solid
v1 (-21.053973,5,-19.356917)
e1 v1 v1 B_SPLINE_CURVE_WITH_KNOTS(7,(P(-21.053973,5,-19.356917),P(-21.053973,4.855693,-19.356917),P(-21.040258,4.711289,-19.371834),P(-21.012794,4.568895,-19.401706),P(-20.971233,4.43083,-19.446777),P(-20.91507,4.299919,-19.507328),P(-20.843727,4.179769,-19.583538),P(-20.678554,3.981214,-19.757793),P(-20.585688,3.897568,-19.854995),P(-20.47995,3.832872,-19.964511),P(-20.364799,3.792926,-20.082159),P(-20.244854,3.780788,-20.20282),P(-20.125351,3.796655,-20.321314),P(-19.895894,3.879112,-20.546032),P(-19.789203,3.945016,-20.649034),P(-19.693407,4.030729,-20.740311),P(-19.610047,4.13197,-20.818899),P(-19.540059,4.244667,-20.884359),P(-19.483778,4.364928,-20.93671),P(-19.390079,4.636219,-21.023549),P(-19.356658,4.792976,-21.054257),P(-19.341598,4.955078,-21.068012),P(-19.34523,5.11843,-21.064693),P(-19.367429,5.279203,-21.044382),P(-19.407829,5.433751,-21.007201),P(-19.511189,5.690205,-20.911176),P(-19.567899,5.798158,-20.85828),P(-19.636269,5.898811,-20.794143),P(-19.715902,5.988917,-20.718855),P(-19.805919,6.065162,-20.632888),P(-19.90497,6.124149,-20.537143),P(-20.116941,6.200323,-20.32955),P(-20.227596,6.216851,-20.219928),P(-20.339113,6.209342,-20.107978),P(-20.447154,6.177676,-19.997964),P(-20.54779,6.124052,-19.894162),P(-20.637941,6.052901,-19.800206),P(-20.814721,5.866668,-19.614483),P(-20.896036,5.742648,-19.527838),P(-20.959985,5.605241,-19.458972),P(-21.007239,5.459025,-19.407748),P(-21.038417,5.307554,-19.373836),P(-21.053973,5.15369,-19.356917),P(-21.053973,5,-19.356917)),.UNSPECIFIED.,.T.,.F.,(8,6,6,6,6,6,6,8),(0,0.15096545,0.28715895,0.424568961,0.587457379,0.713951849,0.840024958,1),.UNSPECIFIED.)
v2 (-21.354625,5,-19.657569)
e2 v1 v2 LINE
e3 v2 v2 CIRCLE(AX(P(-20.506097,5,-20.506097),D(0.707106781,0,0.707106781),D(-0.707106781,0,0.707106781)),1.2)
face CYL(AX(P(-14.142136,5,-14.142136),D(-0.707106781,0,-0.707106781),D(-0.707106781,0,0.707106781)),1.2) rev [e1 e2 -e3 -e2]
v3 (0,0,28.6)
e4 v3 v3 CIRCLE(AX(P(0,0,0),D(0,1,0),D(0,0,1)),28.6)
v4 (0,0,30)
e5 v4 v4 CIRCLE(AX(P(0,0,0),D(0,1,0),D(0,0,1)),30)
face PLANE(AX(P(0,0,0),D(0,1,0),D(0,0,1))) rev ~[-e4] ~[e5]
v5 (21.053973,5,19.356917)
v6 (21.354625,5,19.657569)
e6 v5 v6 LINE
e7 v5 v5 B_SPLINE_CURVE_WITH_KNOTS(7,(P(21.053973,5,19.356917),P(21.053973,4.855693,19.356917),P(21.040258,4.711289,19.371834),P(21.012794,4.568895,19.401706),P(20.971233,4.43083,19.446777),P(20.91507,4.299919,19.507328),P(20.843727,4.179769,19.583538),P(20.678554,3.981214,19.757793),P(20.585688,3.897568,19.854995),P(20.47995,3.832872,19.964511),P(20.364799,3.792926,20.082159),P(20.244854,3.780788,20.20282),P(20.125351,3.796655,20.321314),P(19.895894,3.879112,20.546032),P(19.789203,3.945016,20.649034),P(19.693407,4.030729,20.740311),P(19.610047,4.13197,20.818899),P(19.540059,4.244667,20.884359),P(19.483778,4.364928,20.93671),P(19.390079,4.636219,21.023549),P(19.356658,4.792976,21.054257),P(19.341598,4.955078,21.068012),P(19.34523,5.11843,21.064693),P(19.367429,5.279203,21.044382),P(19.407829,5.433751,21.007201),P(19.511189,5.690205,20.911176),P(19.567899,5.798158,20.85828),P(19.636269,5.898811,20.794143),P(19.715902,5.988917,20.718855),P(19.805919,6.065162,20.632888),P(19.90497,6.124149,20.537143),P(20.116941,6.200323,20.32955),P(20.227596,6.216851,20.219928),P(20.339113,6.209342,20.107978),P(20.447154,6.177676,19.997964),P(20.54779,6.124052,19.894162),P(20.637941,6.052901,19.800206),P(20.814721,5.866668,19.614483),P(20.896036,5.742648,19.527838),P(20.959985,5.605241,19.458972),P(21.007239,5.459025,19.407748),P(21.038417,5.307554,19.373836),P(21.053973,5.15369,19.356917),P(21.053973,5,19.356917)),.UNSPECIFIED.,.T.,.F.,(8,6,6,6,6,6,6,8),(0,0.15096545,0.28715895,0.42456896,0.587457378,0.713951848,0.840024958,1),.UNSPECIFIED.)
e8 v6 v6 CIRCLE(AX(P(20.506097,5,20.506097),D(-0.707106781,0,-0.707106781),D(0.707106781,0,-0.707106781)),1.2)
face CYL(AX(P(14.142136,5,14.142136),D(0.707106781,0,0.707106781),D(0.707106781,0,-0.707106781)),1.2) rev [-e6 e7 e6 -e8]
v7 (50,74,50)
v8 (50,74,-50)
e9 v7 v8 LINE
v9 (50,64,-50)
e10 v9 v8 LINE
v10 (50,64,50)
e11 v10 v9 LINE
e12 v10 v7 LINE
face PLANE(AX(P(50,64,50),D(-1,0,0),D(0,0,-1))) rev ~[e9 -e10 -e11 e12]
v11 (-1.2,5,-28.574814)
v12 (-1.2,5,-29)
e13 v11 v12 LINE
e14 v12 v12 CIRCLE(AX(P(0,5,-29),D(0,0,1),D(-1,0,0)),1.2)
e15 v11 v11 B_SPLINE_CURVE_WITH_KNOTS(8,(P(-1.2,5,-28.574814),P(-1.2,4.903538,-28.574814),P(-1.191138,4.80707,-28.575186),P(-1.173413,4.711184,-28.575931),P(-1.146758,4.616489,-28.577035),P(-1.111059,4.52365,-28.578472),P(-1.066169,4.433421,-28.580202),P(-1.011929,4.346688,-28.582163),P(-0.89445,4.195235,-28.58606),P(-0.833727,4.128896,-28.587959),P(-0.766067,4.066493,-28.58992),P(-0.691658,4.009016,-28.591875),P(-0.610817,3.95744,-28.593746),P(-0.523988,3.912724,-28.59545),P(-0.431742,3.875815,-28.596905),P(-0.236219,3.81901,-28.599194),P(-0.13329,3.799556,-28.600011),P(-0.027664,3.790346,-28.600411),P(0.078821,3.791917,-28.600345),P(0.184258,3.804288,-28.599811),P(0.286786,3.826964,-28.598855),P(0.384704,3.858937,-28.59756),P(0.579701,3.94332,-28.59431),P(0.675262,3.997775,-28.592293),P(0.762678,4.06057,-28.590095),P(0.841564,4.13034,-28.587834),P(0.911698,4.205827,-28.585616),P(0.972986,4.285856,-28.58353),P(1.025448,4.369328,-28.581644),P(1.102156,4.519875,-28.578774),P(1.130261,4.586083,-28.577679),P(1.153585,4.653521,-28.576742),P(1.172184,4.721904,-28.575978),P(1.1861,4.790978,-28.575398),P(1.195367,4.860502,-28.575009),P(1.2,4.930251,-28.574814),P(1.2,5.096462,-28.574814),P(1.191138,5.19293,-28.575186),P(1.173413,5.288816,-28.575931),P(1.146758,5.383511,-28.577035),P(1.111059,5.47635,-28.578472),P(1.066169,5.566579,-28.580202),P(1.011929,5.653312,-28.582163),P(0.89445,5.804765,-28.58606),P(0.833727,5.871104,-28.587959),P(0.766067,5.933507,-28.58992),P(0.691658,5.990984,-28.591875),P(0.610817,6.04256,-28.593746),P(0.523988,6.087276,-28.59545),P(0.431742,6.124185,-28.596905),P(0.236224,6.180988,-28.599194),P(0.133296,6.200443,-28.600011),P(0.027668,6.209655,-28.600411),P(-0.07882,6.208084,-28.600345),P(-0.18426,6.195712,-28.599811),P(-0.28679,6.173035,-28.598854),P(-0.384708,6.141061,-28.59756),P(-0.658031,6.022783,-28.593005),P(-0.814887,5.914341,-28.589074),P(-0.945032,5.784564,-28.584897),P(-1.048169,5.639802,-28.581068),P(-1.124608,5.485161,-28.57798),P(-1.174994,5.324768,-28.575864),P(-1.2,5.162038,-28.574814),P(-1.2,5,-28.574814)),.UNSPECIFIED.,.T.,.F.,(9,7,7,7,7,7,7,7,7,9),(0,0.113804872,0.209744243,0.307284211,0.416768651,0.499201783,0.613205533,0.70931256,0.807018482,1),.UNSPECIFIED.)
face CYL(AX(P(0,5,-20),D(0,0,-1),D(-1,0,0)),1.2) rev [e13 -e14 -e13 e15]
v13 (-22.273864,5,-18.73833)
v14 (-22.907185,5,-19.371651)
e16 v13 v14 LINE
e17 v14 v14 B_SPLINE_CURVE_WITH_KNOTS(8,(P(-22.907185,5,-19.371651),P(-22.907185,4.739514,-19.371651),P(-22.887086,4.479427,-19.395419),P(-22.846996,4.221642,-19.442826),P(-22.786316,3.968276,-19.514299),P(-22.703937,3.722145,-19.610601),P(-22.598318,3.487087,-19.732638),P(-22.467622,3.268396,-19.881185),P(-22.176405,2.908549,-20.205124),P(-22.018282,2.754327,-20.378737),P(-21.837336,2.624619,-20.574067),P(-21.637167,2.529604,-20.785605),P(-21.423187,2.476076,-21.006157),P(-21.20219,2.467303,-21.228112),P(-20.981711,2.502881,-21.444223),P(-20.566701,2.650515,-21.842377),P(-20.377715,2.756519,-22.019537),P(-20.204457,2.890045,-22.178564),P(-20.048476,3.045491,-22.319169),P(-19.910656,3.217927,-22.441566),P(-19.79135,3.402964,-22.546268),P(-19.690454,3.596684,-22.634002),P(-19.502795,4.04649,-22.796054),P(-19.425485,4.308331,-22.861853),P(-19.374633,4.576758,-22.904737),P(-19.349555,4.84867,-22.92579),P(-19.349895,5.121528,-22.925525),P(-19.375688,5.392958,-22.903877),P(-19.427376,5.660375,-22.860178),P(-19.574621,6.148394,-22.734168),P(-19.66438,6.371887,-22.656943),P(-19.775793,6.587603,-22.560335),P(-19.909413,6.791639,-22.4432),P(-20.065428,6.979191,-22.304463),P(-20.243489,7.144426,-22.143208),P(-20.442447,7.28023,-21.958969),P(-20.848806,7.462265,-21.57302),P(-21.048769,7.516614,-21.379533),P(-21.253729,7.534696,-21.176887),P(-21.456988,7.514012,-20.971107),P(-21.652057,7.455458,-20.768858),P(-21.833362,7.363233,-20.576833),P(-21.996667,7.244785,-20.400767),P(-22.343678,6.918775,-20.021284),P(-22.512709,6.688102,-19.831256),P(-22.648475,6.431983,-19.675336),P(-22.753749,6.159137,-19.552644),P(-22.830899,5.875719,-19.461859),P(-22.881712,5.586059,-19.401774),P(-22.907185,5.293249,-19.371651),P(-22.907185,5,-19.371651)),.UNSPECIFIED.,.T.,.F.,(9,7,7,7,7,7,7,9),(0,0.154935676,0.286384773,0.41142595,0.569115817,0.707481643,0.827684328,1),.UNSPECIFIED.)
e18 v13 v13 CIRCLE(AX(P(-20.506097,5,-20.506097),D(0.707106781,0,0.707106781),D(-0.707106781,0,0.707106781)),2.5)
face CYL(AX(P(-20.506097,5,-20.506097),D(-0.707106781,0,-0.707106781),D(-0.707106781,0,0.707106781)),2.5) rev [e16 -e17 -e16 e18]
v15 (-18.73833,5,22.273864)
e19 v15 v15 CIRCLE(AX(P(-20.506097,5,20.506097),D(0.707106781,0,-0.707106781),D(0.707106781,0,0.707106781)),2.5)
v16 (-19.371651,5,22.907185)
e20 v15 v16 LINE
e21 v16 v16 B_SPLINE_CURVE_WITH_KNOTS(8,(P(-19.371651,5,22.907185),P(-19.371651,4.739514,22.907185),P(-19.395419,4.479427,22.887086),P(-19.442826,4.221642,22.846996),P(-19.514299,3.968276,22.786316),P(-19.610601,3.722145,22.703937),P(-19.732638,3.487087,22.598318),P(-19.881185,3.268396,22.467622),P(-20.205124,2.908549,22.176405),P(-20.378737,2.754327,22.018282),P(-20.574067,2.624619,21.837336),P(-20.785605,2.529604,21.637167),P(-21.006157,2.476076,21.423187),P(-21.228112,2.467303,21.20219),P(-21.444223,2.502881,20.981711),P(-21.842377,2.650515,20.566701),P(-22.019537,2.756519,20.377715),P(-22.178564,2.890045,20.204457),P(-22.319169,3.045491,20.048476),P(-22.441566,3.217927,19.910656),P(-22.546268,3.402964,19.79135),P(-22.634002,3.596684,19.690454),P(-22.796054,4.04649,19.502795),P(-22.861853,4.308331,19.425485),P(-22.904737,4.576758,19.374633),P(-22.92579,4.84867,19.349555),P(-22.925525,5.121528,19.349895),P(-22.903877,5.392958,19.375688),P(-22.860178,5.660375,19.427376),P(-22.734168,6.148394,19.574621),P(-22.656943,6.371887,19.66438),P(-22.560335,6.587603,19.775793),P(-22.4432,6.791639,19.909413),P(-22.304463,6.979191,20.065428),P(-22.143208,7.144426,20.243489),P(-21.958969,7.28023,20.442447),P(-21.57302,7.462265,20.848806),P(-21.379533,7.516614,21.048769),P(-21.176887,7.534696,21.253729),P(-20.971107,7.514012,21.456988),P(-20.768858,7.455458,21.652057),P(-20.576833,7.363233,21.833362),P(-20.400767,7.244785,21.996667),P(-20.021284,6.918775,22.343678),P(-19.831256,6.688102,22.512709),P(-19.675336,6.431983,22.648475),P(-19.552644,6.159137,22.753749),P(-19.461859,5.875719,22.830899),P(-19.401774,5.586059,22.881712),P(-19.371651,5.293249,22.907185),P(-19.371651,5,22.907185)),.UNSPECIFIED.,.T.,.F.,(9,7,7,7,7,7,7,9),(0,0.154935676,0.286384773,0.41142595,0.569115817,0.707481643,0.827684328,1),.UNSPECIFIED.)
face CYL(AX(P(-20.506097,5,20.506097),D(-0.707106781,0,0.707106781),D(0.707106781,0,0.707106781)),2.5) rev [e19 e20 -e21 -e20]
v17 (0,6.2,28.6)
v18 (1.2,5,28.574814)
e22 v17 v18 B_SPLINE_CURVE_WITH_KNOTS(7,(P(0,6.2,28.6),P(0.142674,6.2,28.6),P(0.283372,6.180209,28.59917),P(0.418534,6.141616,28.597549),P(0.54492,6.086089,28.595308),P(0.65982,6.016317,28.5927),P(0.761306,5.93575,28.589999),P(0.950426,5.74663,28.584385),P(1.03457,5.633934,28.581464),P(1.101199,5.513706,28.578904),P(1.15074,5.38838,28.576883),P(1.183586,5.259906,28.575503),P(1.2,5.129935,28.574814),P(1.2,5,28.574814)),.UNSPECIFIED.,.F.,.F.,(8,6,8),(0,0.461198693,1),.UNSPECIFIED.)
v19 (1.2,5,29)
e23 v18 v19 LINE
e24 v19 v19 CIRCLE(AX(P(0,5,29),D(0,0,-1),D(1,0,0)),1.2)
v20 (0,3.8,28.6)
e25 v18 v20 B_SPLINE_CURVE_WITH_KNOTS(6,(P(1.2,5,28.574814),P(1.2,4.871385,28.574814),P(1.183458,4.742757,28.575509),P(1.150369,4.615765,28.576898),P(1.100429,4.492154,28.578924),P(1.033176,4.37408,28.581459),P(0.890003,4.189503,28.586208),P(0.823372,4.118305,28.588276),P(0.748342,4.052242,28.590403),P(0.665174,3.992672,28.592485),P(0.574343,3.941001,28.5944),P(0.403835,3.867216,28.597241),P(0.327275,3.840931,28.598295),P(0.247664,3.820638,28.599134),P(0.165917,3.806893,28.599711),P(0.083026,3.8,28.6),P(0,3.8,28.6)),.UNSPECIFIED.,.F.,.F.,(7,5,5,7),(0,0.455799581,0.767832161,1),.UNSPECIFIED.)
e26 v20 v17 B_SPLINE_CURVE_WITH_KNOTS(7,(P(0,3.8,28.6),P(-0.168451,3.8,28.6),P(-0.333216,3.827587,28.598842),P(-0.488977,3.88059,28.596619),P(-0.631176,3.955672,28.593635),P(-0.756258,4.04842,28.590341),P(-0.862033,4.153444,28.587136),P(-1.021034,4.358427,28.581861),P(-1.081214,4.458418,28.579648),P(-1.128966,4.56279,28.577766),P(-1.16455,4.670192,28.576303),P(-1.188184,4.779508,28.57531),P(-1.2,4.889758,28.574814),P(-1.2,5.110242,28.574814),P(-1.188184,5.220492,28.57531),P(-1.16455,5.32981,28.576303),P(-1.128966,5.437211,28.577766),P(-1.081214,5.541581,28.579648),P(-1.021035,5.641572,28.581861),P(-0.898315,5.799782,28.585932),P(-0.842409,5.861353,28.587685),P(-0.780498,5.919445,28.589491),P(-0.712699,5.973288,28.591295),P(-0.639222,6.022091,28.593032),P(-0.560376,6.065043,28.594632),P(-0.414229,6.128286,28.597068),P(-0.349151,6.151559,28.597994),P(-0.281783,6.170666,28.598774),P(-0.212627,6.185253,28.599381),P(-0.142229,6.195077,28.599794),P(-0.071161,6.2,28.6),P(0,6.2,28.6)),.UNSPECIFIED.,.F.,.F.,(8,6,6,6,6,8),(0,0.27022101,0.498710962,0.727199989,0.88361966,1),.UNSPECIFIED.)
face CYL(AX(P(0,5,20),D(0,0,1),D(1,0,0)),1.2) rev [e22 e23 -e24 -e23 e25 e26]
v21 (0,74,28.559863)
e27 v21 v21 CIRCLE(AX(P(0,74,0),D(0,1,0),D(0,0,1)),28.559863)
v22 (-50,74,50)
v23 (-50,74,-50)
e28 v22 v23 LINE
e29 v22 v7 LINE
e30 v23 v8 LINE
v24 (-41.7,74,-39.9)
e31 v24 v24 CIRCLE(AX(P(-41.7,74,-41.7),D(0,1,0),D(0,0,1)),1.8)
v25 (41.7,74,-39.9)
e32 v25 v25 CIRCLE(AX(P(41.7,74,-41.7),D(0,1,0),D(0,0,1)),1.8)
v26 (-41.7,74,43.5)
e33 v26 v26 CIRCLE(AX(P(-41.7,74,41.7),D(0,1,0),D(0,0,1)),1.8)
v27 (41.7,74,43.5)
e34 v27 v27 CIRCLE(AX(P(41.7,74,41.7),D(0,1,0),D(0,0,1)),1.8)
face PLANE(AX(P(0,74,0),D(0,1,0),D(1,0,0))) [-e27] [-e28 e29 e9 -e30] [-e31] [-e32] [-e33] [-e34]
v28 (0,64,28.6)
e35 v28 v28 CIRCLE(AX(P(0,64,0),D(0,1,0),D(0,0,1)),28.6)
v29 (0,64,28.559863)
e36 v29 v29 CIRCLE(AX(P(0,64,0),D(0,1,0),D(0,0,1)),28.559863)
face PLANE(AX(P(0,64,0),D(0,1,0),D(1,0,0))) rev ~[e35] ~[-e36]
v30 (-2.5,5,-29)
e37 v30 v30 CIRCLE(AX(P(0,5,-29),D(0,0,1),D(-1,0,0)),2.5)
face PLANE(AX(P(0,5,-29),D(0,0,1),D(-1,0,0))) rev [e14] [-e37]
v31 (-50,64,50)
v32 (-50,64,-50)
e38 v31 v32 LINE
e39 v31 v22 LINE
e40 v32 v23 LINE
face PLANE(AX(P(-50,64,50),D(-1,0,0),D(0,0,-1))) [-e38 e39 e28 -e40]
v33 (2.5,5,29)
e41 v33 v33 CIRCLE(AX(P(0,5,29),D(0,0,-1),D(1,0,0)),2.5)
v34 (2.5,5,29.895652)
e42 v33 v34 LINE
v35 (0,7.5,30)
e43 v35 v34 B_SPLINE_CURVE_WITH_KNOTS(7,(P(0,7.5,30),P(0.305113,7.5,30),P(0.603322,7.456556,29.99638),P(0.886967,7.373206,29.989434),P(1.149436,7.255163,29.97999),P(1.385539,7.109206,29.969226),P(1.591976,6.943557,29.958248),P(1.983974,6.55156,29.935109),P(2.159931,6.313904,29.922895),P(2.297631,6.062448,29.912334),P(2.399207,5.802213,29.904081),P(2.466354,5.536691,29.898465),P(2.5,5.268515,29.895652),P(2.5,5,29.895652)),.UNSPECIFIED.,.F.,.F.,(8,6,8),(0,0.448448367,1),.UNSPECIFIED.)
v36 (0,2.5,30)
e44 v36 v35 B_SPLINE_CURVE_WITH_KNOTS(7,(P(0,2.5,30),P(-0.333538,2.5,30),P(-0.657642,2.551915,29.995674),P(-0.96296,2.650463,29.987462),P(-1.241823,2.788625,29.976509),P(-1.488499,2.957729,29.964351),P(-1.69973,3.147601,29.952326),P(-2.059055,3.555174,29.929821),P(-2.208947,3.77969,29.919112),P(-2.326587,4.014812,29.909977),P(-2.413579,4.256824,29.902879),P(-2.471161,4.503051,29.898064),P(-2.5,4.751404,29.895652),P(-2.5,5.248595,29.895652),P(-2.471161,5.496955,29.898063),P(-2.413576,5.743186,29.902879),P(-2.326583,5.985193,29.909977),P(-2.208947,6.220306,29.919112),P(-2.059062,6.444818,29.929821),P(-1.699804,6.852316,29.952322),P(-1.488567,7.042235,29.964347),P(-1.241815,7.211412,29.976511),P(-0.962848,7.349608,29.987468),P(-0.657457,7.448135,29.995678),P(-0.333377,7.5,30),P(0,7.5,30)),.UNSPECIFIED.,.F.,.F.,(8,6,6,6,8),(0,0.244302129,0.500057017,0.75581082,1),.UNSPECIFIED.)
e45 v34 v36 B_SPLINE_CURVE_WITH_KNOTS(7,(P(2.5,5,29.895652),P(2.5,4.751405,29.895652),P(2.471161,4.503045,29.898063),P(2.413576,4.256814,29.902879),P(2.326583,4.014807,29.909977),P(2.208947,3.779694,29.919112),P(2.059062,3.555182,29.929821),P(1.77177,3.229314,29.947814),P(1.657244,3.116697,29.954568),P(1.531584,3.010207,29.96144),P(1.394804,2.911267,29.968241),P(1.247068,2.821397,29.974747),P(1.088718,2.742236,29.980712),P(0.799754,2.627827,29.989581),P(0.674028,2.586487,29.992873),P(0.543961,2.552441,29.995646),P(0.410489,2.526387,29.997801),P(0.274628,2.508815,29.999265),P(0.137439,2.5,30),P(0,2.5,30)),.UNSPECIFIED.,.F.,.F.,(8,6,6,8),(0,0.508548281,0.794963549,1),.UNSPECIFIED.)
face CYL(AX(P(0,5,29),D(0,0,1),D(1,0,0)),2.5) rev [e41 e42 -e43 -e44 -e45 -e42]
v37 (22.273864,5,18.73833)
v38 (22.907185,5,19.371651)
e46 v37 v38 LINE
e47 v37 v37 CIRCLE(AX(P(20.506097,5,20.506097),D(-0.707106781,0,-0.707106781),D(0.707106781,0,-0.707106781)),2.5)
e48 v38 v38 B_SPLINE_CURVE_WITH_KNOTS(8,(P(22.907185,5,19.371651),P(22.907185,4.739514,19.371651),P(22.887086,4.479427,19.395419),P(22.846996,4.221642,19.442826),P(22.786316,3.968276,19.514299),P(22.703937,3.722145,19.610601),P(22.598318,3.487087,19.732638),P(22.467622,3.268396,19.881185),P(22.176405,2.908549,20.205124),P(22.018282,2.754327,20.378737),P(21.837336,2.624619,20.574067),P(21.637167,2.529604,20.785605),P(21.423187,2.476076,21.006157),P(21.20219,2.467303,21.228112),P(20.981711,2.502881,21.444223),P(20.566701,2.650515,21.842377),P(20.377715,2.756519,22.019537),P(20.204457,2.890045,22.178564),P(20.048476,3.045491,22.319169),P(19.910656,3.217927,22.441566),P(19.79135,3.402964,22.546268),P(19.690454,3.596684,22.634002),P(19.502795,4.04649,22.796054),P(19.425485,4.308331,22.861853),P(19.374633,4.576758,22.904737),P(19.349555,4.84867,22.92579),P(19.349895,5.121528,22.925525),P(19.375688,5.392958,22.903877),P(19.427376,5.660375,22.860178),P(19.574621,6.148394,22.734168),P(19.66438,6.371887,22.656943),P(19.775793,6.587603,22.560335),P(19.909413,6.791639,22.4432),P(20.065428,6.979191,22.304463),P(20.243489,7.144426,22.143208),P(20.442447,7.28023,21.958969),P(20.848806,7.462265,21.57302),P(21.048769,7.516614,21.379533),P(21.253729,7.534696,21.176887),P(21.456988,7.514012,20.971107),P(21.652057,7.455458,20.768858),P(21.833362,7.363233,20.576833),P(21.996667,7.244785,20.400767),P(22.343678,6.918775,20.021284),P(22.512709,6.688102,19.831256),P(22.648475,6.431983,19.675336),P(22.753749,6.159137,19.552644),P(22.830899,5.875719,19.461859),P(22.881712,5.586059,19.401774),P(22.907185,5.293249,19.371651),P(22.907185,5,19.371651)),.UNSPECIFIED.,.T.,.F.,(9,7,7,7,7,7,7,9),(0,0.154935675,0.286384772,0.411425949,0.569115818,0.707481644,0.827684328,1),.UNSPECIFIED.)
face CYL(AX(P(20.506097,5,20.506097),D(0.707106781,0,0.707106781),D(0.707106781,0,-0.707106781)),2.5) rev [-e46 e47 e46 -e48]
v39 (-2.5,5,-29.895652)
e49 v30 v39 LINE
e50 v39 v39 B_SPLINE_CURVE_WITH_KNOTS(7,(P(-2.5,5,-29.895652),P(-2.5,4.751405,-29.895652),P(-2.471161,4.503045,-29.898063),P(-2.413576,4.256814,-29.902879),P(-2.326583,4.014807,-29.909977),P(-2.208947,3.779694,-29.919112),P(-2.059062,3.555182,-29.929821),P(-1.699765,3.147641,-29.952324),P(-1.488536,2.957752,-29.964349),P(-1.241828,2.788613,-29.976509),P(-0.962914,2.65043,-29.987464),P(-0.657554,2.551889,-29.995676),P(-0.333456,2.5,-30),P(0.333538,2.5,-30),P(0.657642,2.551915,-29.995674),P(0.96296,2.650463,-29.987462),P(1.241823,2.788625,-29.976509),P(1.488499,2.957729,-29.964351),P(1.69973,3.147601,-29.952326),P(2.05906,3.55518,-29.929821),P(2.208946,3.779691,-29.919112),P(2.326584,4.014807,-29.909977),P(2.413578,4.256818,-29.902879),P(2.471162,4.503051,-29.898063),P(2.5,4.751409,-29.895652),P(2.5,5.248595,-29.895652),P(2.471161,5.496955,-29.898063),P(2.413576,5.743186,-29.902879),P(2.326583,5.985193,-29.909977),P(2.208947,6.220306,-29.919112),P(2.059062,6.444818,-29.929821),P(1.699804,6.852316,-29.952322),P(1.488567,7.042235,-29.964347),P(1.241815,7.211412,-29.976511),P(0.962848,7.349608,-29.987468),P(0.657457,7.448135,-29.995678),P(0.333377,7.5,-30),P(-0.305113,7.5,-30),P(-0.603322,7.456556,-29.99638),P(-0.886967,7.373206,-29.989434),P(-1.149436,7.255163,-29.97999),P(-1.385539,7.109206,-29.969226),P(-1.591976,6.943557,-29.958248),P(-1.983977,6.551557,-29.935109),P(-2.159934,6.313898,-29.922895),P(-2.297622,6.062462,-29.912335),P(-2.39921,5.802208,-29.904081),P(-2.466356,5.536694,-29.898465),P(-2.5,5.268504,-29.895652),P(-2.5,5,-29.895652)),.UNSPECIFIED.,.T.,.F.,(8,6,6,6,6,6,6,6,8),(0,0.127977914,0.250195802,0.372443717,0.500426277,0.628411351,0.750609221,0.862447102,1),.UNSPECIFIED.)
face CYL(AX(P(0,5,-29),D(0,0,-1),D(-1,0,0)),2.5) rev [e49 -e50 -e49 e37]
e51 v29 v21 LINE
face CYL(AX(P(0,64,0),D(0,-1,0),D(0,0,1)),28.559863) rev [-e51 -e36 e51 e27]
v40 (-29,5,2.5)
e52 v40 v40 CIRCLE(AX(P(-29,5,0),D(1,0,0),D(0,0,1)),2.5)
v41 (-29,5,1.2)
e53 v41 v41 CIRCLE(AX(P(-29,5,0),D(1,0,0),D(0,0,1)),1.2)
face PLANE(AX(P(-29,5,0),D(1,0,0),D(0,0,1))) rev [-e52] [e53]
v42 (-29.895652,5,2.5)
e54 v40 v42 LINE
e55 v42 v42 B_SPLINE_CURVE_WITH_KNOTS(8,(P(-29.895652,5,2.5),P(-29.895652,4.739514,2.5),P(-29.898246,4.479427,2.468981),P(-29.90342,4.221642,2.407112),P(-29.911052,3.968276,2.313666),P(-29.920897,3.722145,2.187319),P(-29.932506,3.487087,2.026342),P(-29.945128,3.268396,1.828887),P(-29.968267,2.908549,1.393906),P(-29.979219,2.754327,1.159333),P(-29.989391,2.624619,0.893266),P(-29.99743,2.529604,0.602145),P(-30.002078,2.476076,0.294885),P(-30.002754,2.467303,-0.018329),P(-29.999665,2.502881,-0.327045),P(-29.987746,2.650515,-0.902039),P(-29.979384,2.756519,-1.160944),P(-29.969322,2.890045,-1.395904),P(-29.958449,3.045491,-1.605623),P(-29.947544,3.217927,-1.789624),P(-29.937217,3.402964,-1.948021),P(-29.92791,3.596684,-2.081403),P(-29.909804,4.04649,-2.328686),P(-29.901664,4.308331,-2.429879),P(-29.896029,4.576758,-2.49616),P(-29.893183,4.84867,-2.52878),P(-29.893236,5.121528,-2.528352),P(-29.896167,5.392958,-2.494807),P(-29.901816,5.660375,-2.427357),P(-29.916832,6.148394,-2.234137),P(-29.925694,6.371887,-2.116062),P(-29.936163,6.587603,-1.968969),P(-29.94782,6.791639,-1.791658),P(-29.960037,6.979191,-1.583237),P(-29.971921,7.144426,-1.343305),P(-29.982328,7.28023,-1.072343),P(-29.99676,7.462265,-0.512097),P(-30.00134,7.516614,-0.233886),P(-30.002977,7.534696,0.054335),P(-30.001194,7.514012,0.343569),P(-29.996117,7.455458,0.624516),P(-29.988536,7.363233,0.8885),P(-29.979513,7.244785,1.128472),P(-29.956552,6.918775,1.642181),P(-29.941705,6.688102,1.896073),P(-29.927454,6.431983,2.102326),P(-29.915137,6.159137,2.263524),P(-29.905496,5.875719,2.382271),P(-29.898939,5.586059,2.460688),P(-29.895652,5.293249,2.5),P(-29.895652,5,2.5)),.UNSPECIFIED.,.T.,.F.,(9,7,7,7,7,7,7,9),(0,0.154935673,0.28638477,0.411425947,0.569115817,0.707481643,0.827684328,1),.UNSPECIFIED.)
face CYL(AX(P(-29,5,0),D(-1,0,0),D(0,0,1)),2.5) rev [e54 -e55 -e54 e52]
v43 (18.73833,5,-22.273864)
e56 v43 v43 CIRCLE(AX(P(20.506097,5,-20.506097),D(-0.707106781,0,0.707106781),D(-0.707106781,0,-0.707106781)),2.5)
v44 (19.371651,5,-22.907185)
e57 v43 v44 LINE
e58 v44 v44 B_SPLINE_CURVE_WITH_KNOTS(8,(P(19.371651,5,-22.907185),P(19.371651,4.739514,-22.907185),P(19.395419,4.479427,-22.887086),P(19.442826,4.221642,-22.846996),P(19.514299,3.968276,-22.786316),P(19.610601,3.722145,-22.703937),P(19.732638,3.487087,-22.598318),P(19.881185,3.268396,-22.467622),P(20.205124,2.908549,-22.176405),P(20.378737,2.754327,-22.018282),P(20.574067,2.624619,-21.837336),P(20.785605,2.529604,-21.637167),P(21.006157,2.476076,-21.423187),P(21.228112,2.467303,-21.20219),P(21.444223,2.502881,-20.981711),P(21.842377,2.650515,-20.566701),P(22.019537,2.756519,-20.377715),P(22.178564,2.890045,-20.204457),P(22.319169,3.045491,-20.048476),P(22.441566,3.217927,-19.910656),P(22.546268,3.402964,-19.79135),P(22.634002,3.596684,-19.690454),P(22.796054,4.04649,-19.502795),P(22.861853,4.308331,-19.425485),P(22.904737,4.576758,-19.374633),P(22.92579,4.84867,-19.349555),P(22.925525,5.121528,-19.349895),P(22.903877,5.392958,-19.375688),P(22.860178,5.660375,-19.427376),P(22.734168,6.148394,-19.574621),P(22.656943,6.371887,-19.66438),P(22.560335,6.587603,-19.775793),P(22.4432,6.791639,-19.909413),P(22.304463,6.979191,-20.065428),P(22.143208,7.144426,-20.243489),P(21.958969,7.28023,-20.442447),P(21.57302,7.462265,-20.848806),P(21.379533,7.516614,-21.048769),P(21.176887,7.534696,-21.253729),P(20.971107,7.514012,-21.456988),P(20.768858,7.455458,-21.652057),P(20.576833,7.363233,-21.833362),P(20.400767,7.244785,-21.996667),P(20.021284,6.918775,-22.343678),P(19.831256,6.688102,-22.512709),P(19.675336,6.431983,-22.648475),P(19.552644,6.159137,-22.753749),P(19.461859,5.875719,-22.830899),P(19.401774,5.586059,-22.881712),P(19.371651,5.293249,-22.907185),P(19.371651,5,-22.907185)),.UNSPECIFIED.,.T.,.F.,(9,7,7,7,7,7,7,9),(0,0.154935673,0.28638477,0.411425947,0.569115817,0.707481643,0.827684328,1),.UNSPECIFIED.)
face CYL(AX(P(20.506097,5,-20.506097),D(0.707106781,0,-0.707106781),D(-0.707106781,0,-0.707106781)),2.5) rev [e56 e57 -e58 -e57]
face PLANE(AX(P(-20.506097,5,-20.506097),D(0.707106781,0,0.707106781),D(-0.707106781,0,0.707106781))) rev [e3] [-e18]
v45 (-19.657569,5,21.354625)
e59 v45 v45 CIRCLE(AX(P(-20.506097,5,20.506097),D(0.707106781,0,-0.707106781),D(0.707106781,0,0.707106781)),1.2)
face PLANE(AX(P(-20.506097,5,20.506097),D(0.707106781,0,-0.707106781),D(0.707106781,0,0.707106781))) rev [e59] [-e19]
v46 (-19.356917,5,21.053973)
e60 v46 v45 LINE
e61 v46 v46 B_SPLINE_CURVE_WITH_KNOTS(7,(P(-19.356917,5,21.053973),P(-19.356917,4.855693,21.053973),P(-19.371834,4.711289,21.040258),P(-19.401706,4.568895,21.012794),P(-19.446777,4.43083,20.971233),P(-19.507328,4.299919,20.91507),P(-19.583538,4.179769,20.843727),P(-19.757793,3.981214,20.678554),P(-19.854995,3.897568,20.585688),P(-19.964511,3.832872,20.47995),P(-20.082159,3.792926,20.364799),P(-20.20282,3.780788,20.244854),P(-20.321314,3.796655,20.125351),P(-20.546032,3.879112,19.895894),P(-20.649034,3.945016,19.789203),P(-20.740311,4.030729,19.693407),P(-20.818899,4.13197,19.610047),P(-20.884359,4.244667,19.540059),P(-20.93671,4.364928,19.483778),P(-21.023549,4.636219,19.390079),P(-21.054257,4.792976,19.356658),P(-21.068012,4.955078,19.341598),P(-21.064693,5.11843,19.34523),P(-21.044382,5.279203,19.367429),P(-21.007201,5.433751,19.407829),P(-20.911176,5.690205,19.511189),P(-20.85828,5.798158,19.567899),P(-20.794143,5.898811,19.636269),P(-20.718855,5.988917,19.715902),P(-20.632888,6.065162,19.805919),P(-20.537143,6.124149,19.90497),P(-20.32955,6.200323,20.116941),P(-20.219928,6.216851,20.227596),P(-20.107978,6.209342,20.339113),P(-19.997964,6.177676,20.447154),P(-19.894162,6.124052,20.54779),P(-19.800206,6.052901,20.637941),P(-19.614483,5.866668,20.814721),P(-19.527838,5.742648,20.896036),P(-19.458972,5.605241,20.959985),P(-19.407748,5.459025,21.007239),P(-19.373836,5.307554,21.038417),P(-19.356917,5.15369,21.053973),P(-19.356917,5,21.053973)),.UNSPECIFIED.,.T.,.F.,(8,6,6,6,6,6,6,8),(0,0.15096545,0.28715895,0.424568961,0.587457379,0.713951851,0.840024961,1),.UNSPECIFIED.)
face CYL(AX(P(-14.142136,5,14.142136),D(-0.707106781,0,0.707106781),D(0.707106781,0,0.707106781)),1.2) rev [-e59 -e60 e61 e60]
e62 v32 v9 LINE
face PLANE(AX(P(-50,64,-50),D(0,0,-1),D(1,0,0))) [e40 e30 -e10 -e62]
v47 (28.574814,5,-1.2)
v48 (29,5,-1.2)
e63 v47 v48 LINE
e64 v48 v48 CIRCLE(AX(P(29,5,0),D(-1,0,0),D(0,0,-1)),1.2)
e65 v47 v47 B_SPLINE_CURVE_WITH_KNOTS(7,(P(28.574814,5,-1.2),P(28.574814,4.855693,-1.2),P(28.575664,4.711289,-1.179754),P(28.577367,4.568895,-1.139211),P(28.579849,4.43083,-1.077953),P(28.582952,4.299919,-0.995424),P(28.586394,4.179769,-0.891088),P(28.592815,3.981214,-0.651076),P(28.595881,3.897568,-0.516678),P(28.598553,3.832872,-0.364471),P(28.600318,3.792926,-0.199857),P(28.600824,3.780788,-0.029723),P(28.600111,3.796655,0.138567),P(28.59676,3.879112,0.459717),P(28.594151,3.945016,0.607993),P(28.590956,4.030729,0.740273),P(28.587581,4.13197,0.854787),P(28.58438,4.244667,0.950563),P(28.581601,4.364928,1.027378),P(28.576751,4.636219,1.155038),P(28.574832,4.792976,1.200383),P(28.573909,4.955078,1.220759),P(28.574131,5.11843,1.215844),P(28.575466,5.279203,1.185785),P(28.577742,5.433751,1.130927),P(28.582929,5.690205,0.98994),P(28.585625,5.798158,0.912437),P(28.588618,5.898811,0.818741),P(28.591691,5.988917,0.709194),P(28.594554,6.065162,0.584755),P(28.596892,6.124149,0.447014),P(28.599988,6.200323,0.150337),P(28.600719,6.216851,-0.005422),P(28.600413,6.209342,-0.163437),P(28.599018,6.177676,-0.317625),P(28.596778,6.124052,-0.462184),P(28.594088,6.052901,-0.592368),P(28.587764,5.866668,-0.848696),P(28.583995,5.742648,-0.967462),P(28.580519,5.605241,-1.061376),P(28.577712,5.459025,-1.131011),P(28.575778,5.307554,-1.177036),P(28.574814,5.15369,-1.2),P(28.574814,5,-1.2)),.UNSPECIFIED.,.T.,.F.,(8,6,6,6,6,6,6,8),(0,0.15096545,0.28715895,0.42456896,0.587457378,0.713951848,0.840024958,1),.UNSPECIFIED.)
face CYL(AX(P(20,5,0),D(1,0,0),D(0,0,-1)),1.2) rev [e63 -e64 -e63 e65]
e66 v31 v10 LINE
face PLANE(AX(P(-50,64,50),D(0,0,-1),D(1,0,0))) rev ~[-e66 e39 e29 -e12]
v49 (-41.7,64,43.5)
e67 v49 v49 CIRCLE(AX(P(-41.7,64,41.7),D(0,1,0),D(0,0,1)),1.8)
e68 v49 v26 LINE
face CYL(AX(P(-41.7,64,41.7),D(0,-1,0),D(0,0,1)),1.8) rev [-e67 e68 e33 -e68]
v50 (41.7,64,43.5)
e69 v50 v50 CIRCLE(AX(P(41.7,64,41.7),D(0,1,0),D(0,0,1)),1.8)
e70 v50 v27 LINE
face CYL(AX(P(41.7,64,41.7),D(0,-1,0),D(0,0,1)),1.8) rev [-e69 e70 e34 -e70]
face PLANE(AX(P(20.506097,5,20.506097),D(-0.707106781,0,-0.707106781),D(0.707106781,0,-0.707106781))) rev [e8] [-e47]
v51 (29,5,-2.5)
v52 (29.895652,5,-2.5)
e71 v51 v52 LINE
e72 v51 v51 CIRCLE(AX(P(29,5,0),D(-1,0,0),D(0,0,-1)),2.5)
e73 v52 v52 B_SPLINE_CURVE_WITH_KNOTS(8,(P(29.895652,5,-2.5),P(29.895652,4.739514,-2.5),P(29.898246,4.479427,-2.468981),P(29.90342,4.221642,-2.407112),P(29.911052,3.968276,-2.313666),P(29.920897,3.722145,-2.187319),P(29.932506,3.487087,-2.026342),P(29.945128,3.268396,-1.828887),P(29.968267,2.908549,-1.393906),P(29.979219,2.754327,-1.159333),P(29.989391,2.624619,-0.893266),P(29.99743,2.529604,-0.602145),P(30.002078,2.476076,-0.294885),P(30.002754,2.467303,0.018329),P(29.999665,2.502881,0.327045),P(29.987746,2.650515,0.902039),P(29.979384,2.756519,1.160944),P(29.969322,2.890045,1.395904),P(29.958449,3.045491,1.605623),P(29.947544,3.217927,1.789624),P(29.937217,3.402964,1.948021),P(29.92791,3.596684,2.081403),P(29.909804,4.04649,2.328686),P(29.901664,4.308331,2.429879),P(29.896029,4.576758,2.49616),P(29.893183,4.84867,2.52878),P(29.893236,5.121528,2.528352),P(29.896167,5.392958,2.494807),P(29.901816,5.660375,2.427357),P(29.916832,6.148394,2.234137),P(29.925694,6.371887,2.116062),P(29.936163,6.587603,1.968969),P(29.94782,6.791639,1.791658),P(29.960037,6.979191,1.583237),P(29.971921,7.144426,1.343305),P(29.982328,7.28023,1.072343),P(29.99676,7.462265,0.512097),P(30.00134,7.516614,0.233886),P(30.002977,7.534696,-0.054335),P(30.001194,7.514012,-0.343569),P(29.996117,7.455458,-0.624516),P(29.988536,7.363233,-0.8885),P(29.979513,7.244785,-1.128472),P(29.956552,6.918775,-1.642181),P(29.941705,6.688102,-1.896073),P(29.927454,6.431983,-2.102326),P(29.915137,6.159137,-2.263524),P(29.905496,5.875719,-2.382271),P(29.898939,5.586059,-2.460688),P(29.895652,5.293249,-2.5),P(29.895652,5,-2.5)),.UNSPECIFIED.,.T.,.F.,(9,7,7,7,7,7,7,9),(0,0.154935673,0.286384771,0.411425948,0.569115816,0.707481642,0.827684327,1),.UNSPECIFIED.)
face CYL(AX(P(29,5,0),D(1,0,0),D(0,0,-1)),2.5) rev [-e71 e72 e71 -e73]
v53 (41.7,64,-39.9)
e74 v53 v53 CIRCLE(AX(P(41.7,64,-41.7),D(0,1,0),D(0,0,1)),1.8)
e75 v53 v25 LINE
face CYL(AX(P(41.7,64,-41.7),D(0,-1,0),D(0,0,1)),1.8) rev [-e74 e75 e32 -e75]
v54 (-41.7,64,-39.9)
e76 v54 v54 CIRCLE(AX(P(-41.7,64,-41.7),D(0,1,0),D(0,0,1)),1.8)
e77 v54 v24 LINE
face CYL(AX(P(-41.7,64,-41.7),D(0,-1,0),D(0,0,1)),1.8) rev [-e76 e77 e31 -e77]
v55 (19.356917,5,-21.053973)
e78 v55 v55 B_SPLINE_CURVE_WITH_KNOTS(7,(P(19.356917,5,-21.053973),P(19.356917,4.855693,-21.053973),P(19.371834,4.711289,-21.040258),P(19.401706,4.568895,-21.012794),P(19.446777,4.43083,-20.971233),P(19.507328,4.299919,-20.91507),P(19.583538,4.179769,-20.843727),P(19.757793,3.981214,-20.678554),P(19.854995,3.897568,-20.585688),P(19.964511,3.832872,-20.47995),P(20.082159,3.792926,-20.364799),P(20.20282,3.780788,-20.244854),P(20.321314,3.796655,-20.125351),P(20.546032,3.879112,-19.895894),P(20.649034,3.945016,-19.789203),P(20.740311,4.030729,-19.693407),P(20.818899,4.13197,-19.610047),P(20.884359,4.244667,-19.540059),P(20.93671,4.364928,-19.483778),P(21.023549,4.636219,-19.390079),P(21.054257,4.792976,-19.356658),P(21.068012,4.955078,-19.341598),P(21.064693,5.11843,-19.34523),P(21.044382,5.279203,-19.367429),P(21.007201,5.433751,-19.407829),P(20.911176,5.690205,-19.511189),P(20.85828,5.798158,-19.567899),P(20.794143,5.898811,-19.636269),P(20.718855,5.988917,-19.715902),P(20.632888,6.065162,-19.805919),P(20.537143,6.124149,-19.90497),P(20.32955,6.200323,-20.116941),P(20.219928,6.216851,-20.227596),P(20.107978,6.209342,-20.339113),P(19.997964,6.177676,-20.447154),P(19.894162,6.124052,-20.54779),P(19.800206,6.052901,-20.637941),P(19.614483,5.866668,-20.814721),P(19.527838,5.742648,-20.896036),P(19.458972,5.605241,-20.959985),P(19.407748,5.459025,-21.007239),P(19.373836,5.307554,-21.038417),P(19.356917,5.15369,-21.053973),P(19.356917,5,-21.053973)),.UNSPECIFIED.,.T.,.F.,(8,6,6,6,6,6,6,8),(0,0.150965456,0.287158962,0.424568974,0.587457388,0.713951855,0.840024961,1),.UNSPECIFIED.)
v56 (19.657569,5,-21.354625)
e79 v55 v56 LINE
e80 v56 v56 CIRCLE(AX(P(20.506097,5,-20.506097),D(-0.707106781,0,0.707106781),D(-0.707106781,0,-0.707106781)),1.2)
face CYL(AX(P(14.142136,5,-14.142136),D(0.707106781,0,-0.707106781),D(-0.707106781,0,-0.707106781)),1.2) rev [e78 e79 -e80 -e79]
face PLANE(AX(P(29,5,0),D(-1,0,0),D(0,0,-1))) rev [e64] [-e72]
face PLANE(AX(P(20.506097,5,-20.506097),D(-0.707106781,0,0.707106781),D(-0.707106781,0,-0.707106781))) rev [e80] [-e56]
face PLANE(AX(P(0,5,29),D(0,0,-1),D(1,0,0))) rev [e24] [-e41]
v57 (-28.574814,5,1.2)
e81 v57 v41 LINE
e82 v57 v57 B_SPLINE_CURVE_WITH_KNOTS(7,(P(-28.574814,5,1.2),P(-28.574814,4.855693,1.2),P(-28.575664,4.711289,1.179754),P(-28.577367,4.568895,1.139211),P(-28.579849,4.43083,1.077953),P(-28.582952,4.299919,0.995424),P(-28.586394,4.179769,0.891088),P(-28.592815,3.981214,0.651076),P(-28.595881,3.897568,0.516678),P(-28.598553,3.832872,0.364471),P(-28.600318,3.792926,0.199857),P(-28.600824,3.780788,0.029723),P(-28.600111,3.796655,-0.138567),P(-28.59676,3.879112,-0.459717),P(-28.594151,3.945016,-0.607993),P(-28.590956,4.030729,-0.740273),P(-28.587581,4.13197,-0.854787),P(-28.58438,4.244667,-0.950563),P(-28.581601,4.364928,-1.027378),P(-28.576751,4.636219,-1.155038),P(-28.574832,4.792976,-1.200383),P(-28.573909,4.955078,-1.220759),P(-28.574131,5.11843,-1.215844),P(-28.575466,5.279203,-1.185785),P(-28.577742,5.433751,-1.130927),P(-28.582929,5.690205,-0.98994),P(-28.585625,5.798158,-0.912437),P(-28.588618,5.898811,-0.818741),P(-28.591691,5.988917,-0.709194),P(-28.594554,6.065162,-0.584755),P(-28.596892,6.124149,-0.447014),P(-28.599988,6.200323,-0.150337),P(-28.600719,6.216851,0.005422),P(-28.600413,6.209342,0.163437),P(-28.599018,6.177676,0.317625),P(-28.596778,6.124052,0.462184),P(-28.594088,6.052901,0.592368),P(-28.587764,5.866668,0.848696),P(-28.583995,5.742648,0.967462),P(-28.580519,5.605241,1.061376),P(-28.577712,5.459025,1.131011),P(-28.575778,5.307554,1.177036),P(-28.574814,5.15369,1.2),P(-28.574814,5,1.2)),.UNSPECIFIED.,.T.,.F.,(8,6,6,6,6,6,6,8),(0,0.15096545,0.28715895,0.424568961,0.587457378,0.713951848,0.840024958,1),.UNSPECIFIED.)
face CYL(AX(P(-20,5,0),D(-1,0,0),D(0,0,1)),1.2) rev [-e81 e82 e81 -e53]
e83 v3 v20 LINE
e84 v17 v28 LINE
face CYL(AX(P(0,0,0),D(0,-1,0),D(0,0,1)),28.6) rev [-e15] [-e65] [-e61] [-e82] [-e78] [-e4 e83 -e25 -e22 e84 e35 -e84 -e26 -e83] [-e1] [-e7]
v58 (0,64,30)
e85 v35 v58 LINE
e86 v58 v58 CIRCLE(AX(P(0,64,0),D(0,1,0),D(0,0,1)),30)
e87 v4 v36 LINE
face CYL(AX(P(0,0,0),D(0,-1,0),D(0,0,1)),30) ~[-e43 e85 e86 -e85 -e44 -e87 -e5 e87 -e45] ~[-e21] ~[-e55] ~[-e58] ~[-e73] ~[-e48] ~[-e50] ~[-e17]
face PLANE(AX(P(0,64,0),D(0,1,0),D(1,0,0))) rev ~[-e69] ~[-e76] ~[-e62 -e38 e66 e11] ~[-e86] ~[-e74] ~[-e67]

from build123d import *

# Parameters (mm, degrees)
SKETCH_1_R               = 30
SKETCH_1_R_2             = 28.6
EXTRUDE_1_DEPTH          = 64
PATTERN_CIRCULAR_1_COUNT = 8
SKETCH_10_W              = 100
SKETCH_10_H              = 100
SKETCH_10_R              = 1.8
SKETCH_10_R_2            = 28.559863413
EXTRUDE_2_DEPTH          = 10


with BuildPart() as part:
    # 스케치1 → 보스-돌출1 (new body)
    with BuildSketch(Plane(origin=(0, 0, 0), x_dir=(1, 0, 0), z_dir=(0, 1, 0))):
        with Locations(Location((0, 0, 0), (0, 0, 270))):
            Circle(SKETCH_1_R)
        with Locations(Location((0, 0, 0), (0, 0, 270))):
            Circle(SKETCH_1_R_2, mode=Mode.SUBTRACT)
    extrude(amount=EXTRUDE_1_DEPTH)

    # 스케치9 → M2 남비 머리 나사용 카운터보어1 (revolve, cut)
    with BuildSketch(Plane(origin=(-30, 5, 0), x_dir=(0, 0, 1), z_dir=(0, 1, 0))):
        Polygon((0, 0), (0, 10.721032743), (1.2, 10), (1.2, 1), (2.5, 1), (2.5, 0), align=None)
    hole_wizard_m2_1 = revolve(axis=Axis((-36.35, 5, 0), (1, 0, 0)), mode=Mode.SUBTRACT)

    # 원형 패턴1: M2 남비 머리 나사용 카운터보어1 ×8 about axis
    pattern_circular_1_axis = Axis((0, 0, 0), (0, 1, 0))
    for i in range(1, PATTERN_CIRCULAR_1_COUNT):
        add(hole_wizard_m2_1.rotate(pattern_circular_1_axis, i * 360 / PATTERN_CIRCULAR_1_COUNT), mode=Mode.SUBTRACT)

    # 스케치10 → 보스-돌출2 (add)
    with BuildSketch(Plane(origin=(0, 64, 0), x_dir=(1, 0, 0), z_dir=(0, 1, 0))):
        Rectangle(SKETCH_10_W, SKETCH_10_H)
        with Locations(Location((41.7, -41.7, 0), (0, 0, 270))):
            Circle(SKETCH_10_R, mode=Mode.SUBTRACT)
        with Locations(Location((41.7, 41.7, 0), (0, 0, 270))):
            Circle(SKETCH_10_R, mode=Mode.SUBTRACT)
        with Locations(Location((-41.7, 41.7, 0), (0, 0, 270))):
            Circle(SKETCH_10_R, mode=Mode.SUBTRACT)
        with Locations(Location((-41.7, -41.7, 0), (0, 0, 270))):
            Circle(SKETCH_10_R, mode=Mode.SUBTRACT)
        with Locations(Location((0, 0, 0), (0, 0, 270))):
            Circle(SKETCH_10_R_2, mode=Mode.SUBTRACT)
    extrude(amount=EXTRUDE_2_DEPTH)


solid = part.part
